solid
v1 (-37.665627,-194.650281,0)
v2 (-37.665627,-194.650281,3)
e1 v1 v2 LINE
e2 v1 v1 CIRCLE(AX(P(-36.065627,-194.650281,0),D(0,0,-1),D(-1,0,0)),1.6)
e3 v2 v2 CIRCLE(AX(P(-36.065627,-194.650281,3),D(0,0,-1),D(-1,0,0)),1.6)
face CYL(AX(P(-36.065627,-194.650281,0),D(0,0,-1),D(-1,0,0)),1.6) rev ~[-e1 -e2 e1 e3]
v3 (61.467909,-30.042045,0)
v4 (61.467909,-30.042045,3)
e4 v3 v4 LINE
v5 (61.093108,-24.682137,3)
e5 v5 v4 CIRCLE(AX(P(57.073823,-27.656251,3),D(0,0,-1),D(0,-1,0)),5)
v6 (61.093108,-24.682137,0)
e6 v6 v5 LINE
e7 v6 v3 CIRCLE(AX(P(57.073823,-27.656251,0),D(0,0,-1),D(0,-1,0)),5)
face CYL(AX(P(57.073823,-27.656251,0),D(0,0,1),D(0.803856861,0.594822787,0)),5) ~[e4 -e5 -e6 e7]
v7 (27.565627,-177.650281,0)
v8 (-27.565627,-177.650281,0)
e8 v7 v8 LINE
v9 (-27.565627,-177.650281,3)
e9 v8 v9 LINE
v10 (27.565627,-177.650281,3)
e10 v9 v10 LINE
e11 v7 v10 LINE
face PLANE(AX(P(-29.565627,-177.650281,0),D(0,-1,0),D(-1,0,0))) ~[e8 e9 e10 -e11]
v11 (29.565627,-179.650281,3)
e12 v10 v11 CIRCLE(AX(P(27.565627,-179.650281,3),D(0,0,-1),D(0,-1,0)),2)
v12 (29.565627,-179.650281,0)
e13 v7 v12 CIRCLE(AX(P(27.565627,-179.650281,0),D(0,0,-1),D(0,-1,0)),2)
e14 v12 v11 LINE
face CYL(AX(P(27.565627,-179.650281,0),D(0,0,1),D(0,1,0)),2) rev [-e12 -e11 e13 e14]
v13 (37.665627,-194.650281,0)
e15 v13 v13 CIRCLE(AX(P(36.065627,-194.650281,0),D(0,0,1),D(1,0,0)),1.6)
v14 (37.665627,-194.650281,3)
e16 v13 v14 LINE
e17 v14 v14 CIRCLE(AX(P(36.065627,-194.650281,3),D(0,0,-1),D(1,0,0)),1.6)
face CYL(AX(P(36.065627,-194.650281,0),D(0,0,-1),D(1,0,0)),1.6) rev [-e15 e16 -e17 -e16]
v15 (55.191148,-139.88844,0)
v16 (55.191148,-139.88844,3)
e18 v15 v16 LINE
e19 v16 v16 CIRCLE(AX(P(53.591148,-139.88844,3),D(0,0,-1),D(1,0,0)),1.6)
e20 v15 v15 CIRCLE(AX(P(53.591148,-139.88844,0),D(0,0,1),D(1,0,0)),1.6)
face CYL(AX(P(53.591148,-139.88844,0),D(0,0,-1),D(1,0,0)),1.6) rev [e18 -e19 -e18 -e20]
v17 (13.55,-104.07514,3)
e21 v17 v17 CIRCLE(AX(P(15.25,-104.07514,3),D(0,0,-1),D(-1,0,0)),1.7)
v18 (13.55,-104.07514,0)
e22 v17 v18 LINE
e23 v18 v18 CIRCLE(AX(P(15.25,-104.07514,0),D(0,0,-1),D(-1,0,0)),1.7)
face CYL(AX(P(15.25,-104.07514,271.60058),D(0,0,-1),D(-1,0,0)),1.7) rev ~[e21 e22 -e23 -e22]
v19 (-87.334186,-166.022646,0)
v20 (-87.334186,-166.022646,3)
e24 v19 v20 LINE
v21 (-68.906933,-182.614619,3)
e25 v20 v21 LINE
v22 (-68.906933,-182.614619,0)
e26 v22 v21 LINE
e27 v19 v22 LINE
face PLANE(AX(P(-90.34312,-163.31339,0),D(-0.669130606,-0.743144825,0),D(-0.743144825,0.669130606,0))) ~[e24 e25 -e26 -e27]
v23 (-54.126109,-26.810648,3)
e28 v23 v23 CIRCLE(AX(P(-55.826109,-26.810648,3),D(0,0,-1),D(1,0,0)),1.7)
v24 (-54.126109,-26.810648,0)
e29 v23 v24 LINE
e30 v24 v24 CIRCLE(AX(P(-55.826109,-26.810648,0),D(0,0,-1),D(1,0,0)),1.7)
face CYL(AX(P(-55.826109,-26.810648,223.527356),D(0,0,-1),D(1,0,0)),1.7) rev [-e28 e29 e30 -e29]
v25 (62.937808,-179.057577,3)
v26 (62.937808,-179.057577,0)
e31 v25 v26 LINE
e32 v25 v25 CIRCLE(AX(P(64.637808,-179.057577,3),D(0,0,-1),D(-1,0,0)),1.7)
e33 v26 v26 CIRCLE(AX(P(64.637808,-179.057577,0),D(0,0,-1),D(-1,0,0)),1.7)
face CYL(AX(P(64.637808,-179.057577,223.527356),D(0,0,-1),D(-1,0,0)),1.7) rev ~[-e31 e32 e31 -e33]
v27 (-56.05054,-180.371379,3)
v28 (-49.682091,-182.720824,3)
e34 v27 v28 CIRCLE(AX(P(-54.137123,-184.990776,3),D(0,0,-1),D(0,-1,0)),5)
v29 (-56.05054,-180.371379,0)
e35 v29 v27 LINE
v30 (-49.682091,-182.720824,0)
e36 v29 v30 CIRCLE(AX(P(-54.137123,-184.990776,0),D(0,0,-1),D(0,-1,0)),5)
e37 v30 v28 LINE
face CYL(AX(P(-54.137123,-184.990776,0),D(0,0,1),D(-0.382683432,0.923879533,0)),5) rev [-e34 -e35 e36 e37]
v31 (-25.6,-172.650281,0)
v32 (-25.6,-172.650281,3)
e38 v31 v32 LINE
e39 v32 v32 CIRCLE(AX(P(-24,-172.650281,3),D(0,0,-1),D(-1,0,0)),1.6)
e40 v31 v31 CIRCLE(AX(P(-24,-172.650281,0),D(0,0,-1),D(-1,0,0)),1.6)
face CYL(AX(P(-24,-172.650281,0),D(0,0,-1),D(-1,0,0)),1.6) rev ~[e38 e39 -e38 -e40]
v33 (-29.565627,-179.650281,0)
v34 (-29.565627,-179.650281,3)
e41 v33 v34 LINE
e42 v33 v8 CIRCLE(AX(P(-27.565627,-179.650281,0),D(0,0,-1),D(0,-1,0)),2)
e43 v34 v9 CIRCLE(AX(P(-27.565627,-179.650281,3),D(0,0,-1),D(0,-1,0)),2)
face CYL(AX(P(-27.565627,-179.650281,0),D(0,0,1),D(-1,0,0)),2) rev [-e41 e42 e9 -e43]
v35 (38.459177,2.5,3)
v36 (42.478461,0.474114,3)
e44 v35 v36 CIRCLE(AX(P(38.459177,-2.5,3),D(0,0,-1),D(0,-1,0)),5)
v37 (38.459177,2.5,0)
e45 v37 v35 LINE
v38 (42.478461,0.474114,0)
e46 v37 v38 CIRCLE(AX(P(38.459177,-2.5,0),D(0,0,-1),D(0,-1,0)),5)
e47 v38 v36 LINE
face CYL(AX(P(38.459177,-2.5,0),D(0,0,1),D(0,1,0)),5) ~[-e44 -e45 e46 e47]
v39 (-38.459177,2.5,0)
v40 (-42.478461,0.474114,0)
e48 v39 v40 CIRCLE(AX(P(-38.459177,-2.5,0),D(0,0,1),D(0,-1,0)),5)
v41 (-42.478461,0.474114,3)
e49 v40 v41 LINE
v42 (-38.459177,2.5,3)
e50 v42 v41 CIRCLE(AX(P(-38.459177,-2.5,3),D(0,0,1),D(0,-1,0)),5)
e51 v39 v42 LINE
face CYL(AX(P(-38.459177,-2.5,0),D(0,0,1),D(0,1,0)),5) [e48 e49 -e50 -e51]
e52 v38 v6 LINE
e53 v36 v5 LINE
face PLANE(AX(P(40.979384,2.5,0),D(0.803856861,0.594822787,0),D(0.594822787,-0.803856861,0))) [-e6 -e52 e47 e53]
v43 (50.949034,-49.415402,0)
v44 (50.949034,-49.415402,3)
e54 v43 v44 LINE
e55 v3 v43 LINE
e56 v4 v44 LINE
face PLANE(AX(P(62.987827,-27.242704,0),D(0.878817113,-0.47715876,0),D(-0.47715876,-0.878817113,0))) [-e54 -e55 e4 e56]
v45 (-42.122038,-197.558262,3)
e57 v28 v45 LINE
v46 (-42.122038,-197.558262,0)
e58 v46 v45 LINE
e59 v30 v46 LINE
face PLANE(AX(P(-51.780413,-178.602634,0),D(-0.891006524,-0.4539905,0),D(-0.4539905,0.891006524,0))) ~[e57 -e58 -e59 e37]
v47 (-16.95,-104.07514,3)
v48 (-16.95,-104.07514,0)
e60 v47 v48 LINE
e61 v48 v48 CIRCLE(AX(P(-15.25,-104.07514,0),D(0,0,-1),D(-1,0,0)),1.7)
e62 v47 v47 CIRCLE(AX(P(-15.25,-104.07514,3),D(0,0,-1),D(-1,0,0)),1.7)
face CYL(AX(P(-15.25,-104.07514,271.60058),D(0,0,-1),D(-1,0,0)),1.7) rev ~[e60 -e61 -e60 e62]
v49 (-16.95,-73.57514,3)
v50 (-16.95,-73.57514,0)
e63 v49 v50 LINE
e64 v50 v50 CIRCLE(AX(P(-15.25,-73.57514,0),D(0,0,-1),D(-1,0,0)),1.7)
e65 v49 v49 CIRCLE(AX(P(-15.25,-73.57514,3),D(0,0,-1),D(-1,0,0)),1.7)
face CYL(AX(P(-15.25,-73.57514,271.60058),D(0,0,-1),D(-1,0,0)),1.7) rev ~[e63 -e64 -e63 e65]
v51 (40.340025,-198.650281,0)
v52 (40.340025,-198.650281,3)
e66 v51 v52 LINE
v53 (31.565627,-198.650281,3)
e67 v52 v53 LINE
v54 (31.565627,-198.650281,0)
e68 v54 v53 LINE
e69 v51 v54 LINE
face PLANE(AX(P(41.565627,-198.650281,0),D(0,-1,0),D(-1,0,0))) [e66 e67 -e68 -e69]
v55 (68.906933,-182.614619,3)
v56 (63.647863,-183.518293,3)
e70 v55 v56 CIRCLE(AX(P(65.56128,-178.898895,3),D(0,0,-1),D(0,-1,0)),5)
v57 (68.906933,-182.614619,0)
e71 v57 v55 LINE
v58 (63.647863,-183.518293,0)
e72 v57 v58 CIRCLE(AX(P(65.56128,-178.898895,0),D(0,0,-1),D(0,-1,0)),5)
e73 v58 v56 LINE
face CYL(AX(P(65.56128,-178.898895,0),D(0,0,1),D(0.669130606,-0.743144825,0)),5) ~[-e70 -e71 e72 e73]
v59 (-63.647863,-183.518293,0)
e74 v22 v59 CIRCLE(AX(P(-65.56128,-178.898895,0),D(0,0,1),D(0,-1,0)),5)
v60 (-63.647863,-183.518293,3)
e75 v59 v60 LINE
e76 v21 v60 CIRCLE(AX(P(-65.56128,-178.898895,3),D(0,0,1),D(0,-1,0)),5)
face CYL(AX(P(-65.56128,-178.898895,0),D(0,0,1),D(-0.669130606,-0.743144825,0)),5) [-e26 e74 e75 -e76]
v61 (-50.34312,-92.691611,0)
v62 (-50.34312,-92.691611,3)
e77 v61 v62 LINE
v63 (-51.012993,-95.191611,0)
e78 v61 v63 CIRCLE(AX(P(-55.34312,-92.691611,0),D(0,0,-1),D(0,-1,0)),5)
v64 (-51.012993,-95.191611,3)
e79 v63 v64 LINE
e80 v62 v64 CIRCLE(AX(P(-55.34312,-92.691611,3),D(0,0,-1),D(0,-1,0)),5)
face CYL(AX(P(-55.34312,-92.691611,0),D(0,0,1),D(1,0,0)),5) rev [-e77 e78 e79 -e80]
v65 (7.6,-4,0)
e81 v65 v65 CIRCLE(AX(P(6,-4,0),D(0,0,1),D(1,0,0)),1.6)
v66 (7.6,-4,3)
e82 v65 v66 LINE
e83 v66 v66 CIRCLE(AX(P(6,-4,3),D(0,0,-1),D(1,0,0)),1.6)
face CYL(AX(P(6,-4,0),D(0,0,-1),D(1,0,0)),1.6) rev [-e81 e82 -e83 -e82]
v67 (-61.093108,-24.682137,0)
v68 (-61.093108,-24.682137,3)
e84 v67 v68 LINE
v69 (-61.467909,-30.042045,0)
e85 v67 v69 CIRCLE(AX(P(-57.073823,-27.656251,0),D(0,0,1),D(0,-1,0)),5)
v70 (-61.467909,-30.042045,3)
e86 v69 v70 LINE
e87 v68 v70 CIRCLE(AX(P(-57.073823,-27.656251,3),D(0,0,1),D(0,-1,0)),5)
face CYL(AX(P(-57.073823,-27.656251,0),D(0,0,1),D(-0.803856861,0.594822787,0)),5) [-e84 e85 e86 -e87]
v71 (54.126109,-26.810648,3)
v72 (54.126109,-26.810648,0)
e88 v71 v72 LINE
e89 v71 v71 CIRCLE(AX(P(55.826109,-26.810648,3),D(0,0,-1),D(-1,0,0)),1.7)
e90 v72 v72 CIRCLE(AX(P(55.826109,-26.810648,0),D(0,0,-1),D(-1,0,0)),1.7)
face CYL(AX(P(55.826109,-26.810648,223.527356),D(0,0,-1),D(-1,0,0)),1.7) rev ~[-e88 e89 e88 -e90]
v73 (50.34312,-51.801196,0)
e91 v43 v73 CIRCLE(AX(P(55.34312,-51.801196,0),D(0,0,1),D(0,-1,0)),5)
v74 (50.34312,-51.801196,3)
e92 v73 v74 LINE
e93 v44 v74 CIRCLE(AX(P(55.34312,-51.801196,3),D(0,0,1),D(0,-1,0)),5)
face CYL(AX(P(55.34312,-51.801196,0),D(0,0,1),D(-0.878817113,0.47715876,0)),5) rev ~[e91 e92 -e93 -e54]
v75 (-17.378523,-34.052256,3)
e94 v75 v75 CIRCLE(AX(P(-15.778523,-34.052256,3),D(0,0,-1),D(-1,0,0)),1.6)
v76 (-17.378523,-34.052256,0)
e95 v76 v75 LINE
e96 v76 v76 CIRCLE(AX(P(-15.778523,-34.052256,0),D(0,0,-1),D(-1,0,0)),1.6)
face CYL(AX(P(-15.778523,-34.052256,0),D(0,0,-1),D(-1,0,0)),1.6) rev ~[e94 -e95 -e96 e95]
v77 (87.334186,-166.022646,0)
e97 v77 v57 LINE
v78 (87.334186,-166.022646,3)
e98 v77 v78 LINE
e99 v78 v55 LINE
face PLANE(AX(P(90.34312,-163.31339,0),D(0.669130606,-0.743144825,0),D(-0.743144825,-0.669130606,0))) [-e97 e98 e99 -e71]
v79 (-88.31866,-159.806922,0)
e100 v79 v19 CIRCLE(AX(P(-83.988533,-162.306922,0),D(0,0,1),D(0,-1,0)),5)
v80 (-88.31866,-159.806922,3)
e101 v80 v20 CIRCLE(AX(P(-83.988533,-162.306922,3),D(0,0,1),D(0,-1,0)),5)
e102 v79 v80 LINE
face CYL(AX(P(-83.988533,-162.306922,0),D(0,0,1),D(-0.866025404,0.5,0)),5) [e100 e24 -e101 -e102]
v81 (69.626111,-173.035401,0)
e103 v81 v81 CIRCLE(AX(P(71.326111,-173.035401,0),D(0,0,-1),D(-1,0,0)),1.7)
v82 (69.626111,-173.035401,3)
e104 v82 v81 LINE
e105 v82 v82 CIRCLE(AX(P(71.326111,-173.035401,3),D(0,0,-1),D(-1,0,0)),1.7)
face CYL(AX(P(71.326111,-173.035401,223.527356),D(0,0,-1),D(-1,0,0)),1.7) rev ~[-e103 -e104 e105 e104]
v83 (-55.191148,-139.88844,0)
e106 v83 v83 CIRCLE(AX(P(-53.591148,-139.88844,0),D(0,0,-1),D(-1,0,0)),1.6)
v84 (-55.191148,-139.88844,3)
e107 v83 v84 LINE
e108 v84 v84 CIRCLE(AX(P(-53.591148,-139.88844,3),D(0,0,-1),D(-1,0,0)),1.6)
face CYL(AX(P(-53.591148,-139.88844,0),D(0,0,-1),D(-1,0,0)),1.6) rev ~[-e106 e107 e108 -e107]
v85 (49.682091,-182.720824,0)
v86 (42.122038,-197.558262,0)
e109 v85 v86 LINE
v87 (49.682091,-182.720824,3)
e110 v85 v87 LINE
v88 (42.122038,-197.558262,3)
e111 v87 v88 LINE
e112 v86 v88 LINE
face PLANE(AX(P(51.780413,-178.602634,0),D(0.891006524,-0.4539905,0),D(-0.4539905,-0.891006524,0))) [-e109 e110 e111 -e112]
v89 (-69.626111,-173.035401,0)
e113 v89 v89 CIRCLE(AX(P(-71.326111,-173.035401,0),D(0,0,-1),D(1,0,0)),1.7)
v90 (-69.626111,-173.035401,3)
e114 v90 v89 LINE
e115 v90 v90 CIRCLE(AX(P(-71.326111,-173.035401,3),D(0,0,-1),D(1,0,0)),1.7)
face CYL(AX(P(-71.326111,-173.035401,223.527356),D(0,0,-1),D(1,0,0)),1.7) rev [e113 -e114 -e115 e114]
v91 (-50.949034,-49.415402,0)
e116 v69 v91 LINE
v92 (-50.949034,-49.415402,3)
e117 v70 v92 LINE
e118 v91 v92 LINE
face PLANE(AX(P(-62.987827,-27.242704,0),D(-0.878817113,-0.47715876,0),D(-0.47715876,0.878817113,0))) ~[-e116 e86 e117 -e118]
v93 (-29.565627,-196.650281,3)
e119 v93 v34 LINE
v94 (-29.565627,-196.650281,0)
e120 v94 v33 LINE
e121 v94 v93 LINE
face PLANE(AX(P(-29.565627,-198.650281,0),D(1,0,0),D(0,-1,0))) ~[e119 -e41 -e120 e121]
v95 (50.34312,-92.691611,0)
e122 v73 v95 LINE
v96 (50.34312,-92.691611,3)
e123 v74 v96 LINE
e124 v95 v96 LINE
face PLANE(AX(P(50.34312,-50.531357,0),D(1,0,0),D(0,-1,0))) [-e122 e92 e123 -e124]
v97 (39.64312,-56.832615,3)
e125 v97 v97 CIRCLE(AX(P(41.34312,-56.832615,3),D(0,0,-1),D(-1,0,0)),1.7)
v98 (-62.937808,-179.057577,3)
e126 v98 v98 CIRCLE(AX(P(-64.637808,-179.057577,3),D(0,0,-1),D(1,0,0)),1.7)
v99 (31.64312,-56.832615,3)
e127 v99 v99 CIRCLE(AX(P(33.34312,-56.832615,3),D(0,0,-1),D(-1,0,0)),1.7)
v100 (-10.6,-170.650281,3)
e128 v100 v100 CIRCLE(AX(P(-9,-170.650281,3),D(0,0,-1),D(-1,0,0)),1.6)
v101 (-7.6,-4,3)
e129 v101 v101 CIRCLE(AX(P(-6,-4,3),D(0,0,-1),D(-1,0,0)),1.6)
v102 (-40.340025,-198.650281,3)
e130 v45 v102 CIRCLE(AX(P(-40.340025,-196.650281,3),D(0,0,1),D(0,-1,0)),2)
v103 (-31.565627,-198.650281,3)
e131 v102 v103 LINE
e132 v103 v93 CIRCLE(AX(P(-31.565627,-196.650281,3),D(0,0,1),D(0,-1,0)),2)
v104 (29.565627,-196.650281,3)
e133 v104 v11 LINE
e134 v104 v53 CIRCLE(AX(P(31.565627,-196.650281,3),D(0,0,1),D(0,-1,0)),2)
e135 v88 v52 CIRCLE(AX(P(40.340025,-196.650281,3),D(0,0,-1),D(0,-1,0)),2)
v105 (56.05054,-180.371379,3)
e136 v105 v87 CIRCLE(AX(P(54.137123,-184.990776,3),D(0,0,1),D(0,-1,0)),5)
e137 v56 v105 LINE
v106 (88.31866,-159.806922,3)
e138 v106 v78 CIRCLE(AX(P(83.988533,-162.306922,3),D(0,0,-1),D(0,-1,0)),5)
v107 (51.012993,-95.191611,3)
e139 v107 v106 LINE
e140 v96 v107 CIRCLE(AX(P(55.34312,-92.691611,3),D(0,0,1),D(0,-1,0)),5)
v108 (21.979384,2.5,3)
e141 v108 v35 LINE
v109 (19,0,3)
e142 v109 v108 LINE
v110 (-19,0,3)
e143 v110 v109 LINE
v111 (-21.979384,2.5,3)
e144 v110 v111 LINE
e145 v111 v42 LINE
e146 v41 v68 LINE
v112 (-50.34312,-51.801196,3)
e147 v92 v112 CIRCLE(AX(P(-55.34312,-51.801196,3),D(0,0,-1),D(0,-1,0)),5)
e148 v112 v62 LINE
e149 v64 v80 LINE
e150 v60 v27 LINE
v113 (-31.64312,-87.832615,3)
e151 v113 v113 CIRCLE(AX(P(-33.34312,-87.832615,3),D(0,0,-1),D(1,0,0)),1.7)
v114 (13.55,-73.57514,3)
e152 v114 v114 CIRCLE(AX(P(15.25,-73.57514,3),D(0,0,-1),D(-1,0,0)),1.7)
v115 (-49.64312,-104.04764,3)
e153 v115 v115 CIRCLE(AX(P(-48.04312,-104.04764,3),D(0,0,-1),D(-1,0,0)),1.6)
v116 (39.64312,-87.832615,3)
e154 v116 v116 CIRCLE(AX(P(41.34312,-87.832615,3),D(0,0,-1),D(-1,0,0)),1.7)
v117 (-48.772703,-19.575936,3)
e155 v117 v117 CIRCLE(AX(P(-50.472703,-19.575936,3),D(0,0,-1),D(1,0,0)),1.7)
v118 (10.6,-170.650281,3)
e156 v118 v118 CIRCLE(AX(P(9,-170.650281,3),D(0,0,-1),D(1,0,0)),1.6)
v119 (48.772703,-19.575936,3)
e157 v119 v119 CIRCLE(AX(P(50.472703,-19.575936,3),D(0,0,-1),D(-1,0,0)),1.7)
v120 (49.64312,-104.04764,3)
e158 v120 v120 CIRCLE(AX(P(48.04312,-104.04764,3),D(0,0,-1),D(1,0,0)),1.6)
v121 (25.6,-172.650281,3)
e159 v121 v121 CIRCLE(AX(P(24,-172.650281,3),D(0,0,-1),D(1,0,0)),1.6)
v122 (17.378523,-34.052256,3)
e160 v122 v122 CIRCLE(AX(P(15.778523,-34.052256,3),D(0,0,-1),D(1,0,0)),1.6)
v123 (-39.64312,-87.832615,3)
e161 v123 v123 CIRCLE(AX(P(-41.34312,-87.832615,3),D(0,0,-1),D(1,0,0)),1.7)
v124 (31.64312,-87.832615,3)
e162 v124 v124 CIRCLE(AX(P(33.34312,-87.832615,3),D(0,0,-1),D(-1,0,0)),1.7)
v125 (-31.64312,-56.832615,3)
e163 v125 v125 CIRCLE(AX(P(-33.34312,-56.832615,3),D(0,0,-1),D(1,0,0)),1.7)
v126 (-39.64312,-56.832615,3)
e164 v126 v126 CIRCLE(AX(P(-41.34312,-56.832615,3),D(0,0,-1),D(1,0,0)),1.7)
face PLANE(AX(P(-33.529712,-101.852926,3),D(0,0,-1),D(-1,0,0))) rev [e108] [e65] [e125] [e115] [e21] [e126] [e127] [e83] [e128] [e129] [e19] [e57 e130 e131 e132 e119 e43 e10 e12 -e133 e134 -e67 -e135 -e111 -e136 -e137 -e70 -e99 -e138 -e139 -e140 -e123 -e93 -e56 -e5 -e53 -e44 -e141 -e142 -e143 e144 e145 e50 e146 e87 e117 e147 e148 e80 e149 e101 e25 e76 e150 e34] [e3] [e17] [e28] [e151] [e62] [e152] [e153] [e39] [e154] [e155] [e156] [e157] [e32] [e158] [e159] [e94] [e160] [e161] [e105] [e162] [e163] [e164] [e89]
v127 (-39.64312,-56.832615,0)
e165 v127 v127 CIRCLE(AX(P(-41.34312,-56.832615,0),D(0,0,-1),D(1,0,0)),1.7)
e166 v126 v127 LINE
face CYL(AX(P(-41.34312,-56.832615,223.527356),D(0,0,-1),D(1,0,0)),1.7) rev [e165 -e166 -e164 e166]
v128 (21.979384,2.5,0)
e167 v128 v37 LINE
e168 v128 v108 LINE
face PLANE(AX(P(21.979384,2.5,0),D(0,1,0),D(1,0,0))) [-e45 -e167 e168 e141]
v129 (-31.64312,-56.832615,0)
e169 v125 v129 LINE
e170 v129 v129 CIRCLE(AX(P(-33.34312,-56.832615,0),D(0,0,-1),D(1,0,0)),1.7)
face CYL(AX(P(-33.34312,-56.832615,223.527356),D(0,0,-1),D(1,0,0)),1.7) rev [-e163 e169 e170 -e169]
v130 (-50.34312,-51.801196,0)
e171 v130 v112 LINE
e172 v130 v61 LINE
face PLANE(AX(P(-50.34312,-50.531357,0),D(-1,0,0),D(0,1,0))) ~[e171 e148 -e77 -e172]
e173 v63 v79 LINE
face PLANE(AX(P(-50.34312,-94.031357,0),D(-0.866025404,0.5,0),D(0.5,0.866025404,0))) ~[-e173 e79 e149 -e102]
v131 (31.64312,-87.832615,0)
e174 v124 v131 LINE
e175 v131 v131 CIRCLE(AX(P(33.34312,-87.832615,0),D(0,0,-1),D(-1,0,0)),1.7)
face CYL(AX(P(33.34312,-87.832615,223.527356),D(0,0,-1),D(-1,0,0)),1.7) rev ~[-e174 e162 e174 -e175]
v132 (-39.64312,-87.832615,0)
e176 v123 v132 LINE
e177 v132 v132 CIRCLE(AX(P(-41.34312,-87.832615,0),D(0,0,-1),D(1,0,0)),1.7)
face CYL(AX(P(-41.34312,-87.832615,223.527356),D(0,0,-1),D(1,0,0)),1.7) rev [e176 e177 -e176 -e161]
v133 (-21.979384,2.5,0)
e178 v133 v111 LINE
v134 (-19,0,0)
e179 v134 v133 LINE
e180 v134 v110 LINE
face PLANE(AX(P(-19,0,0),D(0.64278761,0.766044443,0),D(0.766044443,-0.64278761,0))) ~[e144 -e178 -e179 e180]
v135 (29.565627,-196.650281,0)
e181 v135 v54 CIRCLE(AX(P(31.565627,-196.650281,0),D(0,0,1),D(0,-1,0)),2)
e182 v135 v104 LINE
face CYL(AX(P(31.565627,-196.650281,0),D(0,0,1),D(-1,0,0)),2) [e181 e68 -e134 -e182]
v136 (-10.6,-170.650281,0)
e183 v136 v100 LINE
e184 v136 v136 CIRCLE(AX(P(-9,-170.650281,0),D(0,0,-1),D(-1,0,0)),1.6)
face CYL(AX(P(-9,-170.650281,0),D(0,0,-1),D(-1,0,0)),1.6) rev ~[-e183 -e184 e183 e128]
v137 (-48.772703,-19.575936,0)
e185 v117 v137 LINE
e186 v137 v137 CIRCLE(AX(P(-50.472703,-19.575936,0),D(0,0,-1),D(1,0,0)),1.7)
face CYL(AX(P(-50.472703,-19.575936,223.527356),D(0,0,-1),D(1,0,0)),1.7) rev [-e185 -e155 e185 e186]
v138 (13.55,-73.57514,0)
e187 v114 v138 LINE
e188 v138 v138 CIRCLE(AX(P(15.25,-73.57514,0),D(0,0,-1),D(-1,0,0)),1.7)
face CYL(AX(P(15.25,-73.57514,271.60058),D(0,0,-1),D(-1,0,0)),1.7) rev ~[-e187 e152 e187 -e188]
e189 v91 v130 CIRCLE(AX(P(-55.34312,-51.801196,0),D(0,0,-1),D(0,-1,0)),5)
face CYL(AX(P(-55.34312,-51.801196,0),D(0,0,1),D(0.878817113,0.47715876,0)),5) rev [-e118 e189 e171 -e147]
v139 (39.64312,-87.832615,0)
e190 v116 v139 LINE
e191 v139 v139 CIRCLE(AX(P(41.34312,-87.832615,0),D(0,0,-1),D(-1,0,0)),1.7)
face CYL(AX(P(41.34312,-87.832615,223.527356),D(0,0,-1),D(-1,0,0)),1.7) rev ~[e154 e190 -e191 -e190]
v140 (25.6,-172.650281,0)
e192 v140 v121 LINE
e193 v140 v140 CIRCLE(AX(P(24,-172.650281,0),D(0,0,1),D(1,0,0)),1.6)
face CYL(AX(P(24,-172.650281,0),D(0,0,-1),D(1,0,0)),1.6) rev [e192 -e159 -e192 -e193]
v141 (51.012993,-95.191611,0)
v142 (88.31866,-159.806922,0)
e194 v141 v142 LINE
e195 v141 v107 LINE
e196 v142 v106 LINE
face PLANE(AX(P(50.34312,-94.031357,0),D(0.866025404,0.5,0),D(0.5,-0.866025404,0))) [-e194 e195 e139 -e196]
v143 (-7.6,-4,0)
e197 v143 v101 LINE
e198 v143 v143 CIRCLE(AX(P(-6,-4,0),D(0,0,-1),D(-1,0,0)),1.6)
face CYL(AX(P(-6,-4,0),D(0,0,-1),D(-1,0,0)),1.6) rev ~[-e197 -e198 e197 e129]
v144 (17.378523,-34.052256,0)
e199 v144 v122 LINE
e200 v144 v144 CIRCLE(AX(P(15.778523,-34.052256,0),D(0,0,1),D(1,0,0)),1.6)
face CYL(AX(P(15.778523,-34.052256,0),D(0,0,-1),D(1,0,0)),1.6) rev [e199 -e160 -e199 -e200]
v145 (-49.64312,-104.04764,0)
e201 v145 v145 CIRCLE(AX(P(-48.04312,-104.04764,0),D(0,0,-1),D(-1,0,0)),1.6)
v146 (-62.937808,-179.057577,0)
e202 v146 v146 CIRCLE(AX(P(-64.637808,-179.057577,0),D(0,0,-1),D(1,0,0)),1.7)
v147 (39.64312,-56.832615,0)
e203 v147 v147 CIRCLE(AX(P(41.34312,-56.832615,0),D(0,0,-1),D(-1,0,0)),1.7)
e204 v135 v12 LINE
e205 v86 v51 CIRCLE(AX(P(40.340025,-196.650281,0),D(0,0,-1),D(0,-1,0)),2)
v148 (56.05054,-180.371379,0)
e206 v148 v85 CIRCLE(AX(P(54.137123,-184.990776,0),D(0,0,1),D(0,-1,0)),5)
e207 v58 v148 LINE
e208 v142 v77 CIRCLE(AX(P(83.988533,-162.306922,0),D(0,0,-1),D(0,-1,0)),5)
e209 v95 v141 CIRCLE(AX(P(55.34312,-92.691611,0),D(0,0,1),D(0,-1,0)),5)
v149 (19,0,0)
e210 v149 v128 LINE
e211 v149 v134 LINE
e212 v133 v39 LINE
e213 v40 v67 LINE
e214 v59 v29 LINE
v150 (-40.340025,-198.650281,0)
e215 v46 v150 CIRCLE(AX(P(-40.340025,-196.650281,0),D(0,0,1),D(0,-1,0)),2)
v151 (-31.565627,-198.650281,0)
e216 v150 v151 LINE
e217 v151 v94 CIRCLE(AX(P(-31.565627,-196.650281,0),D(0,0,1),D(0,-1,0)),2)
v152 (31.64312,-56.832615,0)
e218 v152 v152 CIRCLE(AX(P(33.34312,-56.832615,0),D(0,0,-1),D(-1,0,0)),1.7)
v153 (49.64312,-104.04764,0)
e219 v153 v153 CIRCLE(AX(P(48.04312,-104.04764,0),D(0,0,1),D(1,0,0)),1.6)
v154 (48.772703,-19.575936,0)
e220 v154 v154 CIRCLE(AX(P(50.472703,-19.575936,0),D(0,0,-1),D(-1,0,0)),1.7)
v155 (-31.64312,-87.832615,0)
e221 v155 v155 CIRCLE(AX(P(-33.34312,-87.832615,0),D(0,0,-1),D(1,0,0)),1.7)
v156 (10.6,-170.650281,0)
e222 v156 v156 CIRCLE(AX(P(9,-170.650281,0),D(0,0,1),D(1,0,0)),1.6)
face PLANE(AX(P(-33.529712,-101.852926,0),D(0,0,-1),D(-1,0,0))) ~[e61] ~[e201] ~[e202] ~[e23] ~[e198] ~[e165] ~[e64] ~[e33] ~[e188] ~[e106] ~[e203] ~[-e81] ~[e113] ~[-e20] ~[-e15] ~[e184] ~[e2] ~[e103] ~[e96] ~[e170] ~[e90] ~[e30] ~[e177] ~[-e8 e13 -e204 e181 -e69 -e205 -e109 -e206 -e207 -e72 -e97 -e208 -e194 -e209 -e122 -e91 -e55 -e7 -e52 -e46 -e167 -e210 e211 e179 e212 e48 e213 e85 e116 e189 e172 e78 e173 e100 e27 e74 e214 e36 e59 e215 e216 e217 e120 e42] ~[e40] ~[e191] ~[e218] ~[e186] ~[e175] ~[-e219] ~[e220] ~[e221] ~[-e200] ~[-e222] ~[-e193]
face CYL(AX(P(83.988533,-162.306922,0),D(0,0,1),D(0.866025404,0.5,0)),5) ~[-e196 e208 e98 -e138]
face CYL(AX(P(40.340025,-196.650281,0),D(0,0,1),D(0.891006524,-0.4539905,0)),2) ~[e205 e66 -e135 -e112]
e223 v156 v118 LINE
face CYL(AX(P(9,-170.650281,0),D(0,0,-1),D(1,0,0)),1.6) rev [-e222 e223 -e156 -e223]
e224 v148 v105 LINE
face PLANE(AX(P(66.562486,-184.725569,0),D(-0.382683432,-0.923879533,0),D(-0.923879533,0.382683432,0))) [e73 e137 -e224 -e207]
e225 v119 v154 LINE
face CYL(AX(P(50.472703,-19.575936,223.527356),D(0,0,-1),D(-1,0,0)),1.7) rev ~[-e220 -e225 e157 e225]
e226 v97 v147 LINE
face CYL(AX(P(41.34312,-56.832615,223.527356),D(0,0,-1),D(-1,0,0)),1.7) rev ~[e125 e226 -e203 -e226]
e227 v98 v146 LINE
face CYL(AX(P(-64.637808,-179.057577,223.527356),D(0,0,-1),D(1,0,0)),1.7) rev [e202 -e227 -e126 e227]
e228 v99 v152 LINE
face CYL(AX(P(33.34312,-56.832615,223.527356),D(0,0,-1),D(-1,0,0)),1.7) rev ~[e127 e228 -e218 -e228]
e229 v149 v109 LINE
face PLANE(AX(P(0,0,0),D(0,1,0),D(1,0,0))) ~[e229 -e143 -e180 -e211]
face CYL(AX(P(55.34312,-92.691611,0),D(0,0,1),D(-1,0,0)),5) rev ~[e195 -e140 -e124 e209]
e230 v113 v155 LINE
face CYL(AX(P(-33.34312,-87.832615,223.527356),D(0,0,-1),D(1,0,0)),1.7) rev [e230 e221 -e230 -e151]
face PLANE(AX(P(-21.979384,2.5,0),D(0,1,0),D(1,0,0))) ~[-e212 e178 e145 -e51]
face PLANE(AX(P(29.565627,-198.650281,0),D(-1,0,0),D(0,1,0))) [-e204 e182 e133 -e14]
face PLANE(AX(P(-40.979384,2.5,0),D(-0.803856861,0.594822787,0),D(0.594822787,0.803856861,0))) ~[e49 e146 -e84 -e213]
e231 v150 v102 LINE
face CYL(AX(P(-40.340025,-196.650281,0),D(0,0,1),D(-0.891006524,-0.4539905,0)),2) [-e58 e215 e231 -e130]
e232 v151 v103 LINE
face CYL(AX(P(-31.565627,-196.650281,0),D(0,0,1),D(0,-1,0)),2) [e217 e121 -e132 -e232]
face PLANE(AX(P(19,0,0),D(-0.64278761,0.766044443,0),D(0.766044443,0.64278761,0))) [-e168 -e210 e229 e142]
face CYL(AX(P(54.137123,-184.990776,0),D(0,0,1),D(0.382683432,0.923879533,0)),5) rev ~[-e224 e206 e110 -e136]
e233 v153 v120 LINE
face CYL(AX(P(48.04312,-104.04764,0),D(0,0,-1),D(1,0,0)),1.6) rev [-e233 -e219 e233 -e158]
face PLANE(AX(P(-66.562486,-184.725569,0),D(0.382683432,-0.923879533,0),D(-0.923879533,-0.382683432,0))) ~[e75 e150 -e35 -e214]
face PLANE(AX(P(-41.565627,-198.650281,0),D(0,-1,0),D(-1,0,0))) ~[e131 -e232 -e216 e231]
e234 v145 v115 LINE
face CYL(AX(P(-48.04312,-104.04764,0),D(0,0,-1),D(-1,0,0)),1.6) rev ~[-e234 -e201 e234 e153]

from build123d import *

# Parameters (mm, degrees)
BOSS_EXTRUDE1_DEPTH  = 3
SKETCH1_3_R          = 1.6
CUT_EXTRUDE1_DEPTH   = 219.249429386
MNTPATT_LNDGEAR_D    = 3.4
MNTPATT_REARARM_D    = 3.4
MNTPATT_FOREARM_D    = 3.4
FILLET1_R            = 5
FILLET2_R            = 2
M3_CLEARANCE_HOLE4_D = 3.4


with BuildPart() as part:
    # Sketch1 → Boss-Extrude1 (new body)
    with BuildSketch(Plane.XY):
        Polygon((0, 0), (19, 0), (21.979383981, 2.5), (40.979383981, 2.5), (62.987827091, -27.242703843), (50.343119944, -50.531357328), (50.343119944, -94.031357328), (90.343119944, -163.313389631), (66.562485529, -184.725569035), (51.780413009, -178.602634117), (41.565626765, -198.650280911), (29.565626765, -198.650280911), (29.565626765, -177.650280911), (0, -177.650280911), align=None)
    boss_extrude1 = extrude(amount=BOSS_EXTRUDE1_DEPTH)

    # Sketch1<3> → Cut-Extrude1 (cut, through all)
    with BuildSketch(Plane.XY):
        with Locations((6, -4)):
            Circle(SKETCH1_3_R)
        with Locations((48.043119944, -104.047640471)):
            Circle(SKETCH1_3_R)
        with Locations((53.591147617, -139.888439508)):
            Circle(SKETCH1_3_R)
        with Locations((36.065626765, -194.650280911)):
            Circle(SKETCH1_3_R)
        with Locations((24, -172.650280911)):
            Circle(SKETCH1_3_R)
        with Locations((9, -170.650280911)):
            Circle(SKETCH1_3_R)
        with Locations((15.778522962, -34.052256336)):
            Circle(SKETCH1_3_R)
    cut_extrude1 = extrude(amount=CUT_EXTRUDE1_DEPTH, mode=Mode.SUBTRACT)

    # MntPatt-Lndgear (through all)
    with Locations(Plane.XY.offset(3)):
        with Locations((33.343119944, -56.83261542), (41.343119944, -56.83261542), (33.343119944, -87.83261542), (41.343119944, -87.83261542)):
            mntpatt_lndgear = Hole(MNTPATT_LNDGEAR_D / 2)

    # MntPatt-RearArm (through all)
    with Locations(Plane.XY.offset(3)):
        with Locations((55.826108536, -26.810648111), (50.472703455, -19.575936365)):
            mntpatt_reararm = Hole(MNTPATT_REARARM_D / 2)

    # MntPatt_ForeArm (through all)
    with Locations(Plane.XY.offset(3)):
        with Locations((71.326111319, -173.035401095), (64.63780789, -179.057576552)):
            mntpatt_forearm = Hole(MNTPATT_FOREARM_D / 2)

    # Mirror2: Boss-Extrude1, Cut-Extrude1, MntPatt-Lndgear, MntPatt-RearArm, MntPatt_ForeArm across plane
    add(boss_extrude1.mirror(Plane(origin=(0, 0, 3), x_dir=(0, 0, 1), z_dir=(1, 0, 0))))
    add(cut_extrude1.mirror(Plane(origin=(0, 0, 3), x_dir=(0, 0, 1), z_dir=(1, 0, 0))), mode=Mode.SUBTRACT)
    add(mntpatt_lndgear.mirror(Plane(origin=(0, 0, 3), x_dir=(0, 0, 1), z_dir=(1, 0, 0))), mode=Mode.SUBTRACT)
    add(mntpatt_reararm.mirror(Plane(origin=(0, 0, 3), x_dir=(0, 0, 1), z_dir=(1, 0, 0))), mode=Mode.SUBTRACT)
    add(mntpatt_forearm.mirror(Plane(origin=(0, 0, 3), x_dir=(0, 0, 1), z_dir=(1, 0, 0))), mode=Mode.SUBTRACT)

    # Fillet1
    fillet1_edges = [part.edges().sort_by_distance(p)[0] for p in [
        (-40.979383981, 2.5, 1.5),
        (-62.987827091, -27.242703843, 1.5),
        (-50.343119944, -50.531357328, 1.5),
        (-50.343119944, -94.031357328, 1.5),
        (-90.343119944, -163.313389631, 1.5),
        (-66.562485529, -184.725569035, 1.5),
        (-51.780413009, -178.602634117, 1.5),
        (51.780413009, -178.602634117, 1.5),
        (66.562485529, -184.725569035, 1.5),
        (90.343119944, -163.313389631, 1.5),
        (50.343119944, -94.031357328, 1.5),
        (50.343119944, -50.531357328, 1.5),
        (62.987827091, -27.242703843, 1.5),
        (40.979383981, 2.5, 1.5),
    ]]
    fillet(fillet1_edges, radius=FILLET1_R)

    # Fillet2
    fillet2_edges = [part.edges().sort_by_distance(p)[0] for p in [
        (-41.565626765, -198.650280911, 1.5),
        (-29.565626765, -198.650280911, 1.5),
        (-29.565626765, -177.650280911, 1.5),
        (29.565626765, -177.650280911, 1.5),
        (29.565626765, -198.650280911, 1.5),
        (41.565626765, -198.650280911, 1.5),
    ]]
    fillet(fillet2_edges, radius=FILLET2_R)

    # M3 Clearance Hole4 (through all)
    with Locations(Plane.XY.offset(3)):
        with Locations((-15.25, -73.575140456), (15.25, -73.575140456), (15.25, -104.075140456), (-15.25, -104.075140456)):
            Hole(M3_CLEARANCE_HOLE4_D / 2)


solid = part.part
